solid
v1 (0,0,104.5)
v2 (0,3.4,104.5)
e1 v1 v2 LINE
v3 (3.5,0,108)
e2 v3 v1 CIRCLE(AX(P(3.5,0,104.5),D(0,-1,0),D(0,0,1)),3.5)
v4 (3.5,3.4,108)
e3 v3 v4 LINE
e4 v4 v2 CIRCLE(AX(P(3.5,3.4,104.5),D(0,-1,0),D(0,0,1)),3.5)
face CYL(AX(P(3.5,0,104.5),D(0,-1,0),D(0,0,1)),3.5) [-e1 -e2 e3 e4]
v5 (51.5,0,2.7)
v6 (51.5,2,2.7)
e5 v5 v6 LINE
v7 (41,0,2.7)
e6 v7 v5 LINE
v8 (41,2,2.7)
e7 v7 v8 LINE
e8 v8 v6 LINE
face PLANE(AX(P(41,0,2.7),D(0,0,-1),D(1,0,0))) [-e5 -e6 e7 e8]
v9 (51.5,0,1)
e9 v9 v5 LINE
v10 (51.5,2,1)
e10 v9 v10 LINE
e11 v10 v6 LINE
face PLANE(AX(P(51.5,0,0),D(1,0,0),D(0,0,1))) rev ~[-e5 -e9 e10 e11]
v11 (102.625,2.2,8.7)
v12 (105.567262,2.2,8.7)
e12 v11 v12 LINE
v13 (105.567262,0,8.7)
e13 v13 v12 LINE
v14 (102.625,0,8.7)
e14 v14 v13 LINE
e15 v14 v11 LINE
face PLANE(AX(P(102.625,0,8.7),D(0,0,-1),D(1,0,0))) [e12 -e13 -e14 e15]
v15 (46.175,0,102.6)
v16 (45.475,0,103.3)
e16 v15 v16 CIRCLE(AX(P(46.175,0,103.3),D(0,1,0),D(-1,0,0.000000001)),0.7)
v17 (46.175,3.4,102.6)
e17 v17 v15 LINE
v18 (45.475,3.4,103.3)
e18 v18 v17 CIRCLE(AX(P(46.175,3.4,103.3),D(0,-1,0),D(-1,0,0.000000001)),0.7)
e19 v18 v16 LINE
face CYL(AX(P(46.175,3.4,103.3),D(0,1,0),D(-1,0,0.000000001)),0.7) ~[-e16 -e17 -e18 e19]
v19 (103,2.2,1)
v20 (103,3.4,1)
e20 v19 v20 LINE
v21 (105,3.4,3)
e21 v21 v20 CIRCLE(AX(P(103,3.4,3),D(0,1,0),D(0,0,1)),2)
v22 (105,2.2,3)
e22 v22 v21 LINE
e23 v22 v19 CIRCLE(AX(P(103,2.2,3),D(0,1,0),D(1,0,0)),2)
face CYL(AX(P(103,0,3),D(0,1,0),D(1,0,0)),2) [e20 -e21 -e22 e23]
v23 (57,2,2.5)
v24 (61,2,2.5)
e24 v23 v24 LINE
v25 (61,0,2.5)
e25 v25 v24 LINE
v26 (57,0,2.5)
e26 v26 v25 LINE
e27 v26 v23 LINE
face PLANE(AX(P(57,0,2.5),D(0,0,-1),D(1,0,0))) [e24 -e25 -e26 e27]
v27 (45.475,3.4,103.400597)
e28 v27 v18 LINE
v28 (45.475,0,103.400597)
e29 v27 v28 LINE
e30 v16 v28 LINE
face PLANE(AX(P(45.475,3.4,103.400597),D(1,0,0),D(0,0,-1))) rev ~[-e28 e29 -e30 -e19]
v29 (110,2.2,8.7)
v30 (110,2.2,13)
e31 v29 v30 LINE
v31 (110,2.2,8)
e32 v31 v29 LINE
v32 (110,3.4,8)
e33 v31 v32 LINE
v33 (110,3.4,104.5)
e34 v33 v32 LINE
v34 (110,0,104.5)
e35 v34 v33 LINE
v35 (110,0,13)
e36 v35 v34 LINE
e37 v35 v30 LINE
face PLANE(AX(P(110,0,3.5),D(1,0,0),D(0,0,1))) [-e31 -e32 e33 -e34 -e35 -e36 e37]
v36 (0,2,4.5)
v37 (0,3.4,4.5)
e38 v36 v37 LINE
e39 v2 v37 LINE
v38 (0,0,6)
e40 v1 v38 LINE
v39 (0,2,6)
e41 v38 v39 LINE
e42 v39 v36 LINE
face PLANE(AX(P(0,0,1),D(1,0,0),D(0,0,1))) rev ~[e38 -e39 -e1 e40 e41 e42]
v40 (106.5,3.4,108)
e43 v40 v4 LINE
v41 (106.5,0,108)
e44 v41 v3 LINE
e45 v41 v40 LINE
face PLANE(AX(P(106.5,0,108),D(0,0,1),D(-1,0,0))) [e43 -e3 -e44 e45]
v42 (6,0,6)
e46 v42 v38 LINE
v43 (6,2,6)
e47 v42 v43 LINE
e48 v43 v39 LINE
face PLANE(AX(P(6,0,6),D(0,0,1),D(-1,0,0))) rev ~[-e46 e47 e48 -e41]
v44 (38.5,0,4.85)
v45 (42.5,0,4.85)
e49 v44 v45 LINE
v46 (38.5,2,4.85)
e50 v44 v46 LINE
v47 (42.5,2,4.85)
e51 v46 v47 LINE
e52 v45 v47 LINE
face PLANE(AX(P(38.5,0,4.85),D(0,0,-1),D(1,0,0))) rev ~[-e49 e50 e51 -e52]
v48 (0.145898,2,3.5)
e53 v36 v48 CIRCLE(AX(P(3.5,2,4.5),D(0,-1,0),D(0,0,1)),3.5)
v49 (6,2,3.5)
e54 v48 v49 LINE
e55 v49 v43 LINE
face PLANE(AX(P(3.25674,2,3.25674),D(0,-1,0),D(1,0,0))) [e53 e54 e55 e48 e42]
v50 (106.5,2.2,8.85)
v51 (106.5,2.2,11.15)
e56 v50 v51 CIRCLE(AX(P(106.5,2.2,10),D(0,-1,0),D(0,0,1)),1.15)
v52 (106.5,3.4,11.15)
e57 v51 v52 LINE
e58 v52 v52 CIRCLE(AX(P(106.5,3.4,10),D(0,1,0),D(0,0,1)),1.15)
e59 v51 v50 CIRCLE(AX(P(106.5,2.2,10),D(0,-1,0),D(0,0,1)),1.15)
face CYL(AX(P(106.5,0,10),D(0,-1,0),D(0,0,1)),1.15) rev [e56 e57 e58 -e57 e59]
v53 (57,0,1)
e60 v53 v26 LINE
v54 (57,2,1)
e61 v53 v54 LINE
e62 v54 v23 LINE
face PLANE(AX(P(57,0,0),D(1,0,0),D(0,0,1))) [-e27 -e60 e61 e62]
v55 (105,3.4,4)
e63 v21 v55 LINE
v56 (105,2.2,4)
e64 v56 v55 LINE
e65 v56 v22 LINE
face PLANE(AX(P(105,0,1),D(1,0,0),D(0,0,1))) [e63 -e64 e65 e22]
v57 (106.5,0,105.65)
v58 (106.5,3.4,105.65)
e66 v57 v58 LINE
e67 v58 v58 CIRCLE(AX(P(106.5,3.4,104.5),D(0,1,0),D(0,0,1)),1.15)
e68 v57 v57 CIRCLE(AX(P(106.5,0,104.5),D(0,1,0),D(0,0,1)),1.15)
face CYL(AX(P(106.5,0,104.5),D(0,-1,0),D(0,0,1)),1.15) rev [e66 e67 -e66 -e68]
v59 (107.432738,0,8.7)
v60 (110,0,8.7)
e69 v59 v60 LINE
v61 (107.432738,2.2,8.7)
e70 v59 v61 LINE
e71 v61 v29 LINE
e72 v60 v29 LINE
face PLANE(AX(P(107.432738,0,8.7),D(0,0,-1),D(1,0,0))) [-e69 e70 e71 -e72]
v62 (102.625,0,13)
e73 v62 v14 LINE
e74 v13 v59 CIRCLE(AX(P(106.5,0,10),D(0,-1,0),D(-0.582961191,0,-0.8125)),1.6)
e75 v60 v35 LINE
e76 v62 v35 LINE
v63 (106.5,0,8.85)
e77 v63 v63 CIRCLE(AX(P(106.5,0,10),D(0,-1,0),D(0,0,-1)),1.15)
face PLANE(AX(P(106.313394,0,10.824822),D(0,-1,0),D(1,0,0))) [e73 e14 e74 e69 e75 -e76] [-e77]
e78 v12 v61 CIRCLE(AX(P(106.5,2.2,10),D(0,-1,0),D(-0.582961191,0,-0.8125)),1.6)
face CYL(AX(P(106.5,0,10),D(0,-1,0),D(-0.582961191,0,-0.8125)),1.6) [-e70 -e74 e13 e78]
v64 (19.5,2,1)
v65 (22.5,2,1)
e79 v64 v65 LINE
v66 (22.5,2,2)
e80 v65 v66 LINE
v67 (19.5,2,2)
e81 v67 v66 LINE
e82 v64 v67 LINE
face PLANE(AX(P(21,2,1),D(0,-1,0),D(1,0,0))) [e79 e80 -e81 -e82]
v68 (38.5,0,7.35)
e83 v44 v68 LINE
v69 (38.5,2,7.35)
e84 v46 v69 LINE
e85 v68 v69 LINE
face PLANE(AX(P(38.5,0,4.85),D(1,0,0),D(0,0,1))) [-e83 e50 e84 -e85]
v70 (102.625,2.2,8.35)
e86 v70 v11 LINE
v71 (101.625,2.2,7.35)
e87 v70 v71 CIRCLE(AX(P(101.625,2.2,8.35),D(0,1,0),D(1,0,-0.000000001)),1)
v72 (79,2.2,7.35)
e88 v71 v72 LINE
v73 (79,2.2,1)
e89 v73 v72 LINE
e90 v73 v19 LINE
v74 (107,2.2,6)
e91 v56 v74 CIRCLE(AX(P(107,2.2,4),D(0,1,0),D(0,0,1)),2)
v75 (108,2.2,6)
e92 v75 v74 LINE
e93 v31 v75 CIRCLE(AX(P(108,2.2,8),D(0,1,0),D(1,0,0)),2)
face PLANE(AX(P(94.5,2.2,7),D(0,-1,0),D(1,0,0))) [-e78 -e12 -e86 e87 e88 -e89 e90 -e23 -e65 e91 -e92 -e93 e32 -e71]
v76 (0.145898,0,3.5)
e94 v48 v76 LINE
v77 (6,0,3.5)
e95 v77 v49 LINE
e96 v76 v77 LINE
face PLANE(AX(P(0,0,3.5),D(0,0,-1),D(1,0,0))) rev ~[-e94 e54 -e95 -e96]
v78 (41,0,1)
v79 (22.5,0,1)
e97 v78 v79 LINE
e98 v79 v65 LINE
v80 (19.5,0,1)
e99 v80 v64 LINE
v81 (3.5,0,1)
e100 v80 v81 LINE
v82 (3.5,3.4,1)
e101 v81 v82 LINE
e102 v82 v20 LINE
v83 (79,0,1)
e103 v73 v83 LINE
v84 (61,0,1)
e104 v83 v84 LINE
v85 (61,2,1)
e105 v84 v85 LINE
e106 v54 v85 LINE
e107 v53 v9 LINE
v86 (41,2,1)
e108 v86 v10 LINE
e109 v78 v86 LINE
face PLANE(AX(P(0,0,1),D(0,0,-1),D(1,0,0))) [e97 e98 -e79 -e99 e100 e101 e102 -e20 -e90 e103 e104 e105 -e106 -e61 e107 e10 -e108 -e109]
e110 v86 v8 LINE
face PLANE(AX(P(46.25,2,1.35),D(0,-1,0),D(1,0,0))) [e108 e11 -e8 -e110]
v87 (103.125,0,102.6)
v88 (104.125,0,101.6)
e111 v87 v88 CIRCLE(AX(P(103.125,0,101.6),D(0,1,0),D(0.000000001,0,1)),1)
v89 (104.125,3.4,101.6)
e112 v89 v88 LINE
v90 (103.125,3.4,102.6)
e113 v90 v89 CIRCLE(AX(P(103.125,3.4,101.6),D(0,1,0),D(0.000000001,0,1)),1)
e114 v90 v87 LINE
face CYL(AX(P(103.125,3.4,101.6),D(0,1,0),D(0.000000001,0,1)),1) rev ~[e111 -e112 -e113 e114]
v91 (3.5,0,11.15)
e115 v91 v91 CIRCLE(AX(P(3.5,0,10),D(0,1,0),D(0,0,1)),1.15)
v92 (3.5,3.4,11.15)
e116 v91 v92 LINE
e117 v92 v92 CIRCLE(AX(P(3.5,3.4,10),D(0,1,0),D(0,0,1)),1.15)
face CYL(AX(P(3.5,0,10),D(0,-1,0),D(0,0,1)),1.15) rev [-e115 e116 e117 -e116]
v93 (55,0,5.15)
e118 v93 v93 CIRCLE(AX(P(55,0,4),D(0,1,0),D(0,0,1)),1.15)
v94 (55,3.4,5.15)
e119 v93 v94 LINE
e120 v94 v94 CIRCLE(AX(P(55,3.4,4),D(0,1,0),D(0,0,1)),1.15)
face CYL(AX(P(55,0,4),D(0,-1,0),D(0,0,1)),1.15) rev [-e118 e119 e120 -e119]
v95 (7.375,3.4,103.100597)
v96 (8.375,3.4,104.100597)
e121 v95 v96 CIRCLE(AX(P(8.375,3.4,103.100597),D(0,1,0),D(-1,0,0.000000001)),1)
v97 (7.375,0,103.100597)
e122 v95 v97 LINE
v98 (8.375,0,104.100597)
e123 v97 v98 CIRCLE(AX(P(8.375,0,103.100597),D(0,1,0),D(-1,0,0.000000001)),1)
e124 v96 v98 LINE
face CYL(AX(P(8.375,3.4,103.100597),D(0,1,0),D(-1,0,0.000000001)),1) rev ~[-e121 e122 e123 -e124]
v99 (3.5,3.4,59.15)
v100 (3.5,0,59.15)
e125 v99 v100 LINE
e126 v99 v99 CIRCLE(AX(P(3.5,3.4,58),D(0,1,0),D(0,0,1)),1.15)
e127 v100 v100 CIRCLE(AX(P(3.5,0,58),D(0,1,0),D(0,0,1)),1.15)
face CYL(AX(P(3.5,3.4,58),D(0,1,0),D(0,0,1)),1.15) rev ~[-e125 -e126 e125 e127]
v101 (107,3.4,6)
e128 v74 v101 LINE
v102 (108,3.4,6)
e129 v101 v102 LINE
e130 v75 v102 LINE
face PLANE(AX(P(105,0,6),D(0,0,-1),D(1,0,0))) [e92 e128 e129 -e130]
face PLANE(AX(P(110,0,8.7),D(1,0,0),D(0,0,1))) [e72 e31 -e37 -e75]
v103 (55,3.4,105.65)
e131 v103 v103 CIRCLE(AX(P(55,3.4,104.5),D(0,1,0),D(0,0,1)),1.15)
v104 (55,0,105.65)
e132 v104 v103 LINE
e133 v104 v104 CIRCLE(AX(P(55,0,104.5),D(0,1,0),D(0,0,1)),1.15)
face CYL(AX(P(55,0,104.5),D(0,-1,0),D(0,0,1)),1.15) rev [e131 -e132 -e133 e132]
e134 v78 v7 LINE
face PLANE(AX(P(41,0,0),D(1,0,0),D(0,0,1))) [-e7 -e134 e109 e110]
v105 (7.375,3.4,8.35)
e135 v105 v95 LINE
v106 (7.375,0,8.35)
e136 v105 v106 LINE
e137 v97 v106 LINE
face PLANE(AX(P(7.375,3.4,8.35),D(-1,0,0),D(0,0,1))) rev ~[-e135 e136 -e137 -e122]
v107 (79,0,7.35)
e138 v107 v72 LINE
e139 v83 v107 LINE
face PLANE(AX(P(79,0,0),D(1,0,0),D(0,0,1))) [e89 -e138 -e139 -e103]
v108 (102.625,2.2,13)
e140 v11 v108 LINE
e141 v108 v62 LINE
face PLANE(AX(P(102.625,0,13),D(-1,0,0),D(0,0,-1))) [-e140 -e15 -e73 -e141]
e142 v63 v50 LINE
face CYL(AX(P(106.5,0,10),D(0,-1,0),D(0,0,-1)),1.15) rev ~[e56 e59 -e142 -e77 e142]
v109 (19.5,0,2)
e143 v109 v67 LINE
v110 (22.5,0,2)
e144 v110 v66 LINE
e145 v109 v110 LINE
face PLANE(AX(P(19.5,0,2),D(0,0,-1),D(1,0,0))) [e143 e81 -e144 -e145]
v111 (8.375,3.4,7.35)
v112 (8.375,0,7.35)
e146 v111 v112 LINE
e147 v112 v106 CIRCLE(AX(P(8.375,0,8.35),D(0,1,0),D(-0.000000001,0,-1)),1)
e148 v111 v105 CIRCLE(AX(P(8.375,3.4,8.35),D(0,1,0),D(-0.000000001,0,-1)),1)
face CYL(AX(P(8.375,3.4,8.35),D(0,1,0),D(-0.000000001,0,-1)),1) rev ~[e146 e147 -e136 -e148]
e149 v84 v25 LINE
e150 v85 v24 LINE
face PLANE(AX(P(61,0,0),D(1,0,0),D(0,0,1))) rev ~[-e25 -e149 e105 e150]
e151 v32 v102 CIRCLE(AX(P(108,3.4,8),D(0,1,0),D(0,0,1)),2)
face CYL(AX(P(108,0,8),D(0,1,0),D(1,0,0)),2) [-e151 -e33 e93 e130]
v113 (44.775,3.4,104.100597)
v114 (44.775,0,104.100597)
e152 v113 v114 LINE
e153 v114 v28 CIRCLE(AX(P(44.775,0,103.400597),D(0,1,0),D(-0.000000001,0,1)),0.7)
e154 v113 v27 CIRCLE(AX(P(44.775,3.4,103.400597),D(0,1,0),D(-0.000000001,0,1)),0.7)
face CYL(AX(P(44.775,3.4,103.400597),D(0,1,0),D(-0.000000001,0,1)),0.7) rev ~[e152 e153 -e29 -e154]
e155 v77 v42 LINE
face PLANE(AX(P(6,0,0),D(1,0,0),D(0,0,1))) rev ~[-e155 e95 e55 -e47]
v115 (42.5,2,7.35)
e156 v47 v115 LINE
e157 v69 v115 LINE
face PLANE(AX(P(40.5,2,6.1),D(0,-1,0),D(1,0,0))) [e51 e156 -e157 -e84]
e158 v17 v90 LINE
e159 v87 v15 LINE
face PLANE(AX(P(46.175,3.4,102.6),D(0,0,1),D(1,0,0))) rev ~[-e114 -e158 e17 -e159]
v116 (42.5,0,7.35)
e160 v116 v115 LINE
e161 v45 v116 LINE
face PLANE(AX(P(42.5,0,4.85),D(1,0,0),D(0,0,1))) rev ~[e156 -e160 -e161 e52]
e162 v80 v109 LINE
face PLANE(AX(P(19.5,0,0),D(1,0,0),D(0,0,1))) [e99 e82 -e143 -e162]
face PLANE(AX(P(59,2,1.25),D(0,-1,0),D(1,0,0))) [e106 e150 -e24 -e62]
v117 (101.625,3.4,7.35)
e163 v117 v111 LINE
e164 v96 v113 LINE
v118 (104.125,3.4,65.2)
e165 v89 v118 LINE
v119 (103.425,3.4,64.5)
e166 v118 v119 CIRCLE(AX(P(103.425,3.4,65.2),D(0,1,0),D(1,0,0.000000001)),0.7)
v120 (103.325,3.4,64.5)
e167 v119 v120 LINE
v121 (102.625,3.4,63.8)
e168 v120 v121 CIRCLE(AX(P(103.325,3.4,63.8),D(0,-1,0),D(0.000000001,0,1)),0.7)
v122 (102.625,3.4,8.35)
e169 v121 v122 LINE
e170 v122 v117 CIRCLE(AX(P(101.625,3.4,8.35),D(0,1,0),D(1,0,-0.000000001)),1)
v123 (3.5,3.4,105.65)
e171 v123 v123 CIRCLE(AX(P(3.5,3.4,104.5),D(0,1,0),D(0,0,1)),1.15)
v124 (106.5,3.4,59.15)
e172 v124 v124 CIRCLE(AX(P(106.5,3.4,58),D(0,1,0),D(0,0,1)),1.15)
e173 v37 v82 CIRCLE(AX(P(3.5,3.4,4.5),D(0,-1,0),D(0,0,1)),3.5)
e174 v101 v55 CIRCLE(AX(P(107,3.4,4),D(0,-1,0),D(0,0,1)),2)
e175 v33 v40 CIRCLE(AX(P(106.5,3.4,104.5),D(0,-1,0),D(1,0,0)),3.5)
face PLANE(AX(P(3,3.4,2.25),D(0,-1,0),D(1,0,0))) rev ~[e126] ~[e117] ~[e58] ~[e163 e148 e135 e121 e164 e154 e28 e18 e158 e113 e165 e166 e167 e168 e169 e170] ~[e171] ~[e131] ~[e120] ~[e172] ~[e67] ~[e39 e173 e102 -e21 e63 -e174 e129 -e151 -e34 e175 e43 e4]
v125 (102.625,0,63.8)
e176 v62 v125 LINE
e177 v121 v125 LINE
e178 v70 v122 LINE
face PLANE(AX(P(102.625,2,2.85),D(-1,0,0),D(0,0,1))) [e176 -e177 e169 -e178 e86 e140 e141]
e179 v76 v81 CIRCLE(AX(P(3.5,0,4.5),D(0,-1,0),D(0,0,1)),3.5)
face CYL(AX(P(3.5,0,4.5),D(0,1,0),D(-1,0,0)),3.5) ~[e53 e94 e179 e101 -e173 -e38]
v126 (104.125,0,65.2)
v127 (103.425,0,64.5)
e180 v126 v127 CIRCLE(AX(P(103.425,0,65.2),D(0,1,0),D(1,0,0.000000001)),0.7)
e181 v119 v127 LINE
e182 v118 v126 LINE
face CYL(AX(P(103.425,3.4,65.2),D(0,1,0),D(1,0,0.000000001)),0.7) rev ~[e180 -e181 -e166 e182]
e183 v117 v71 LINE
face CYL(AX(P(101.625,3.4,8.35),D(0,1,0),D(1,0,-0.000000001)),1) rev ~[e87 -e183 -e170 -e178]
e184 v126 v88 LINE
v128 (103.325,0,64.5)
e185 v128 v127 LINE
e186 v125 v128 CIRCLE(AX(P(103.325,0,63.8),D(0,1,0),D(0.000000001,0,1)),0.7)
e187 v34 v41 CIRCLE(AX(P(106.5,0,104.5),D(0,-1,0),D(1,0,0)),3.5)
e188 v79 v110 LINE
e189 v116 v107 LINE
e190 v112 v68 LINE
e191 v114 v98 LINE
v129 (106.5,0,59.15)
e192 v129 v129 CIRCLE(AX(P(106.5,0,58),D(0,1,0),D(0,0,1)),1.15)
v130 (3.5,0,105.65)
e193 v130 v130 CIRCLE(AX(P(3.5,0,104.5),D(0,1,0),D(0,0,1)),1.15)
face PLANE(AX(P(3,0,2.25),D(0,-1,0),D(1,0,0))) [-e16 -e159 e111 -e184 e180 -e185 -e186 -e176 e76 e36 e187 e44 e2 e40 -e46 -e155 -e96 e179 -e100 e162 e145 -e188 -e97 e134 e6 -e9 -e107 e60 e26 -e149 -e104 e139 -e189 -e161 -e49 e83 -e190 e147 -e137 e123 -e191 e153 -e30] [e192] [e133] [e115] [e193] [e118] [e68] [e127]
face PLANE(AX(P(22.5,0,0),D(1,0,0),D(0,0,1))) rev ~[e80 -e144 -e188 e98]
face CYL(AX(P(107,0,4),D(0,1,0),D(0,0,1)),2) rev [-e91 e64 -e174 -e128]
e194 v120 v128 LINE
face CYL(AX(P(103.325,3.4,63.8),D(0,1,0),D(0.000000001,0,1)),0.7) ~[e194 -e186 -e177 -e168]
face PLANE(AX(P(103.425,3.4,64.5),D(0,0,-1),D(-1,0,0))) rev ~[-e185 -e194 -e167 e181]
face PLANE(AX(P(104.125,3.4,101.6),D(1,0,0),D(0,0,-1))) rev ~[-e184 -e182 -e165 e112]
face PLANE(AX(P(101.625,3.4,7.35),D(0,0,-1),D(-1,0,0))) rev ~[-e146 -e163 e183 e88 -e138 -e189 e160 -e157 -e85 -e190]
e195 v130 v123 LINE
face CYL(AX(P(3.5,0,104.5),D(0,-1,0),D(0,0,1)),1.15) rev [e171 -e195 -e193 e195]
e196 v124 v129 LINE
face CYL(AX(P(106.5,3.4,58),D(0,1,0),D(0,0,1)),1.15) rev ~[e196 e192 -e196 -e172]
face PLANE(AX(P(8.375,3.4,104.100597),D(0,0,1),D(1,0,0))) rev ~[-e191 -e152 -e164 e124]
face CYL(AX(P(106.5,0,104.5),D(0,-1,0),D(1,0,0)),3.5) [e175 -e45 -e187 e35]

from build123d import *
from build123d.topology import SkipClean

# Parameters (mm, degrees)
SKETCH_2_R           = 1.15
EXTRUDE_1_DEPTH      = 3.4
CUT_EXTRUDE_4_DEPTH  = 155.193255365
SKETCH_5_W           = 10.5
SKETCH_5_H           = 2.7
SKETCH_5_W_2         = 4
SKETCH_5_H_2         = 2.5
SKETCH_5_W_3         = 3
SKETCH_5_H_3         = 2
CUT_EXTRUDE_8_DEPTH  = 2
SKETCH_6_W           = 1
SKETCH_6_H           = 1
CUT_EXTRUDE_9_DEPTH  = 2
SKETCH_7_W           = 0.375
SKETCH_7_H           = 4.5
EXTRUDE_2_DEPTH      = 2
SKETCH_8_W           = 110
SKETCH_8_H           = 3.4
CUT_EXTRUDE_10_DEPTH = 1
SKETCH_9_W           = 6
SKETCH_9_H           = 2.5
SKETCH_9_W_2         = 6.621572964
EXTRUDE_3_DEPTH      = 3.4
FILLET_1_R           = 3.5
SKETCH_10_W          = 5
SKETCH_10_H          = 5
CUT_EXTRUDE_11_DEPTH = 155.193255365
FILLET_4_R           = 2
FILLET_5_R           = 2
SKETCH_11_R          = 1.15
CUT_EXTRUDE_12_DEPTH = 11
SKETCH_12_W          = 23.625
SKETCH_12_H          = 7.35
CUT_EXTRUDE_14_DEPTH = 2
SKETCH_14_W          = 31
SKETCH_14_H          = 12
CUT_EXTRUDE_15_DEPTH = 2.2
EXTRUDE_START        = 2.2
SKETCH_15_R          = 1.15
EXTRUDE_8_DEPTH      = 2.2


with BuildPart() as part:
    # 스케치2 → 보스-돌출1 (new body)
    with BuildSketch(Plane(origin=(0, 0, 0), x_dir=(1, 0, 0), z_dir=(0, 1, 0))):
        with BuildLine():
            Line((3.5, 0), (106.5, 0))
            ThreePointArc((106.5, 0), (108.974873734, -1.025126266), (110, -3.5))
            Line((110, -3.5), (110, -104.5))
            ThreePointArc((110, -104.5), (108.974873734, -106.974873734), (106.5, -108))
            Line((106.5, -108), (3.5, -108))
            ThreePointArc((3.5, -108), (1.025126266, -106.974873734), (0, -104.5))
            Line((0, -104.5), (0, -3.5))
            ThreePointArc((0, -3.5), (1.025126266, -1.025126266), (3.5, 0))
        make_face()
        with Locations(Location((3.5, -104.5, 0), (0, 0, 270))):
            Circle(SKETCH_2_R, mode=Mode.SUBTRACT)
        with Locations(Location((106.5, -10, 0), (0, 0, 270))):
            Circle(SKETCH_2_R, mode=Mode.SUBTRACT)
        with Locations(Location((106.5, -104.5, 0), (0, 0, 270))):
            Circle(SKETCH_2_R, mode=Mode.SUBTRACT)
        with Locations(Location((55, -104.5, 0), (0, 0, 270))):
            Circle(SKETCH_2_R, mode=Mode.SUBTRACT)
        with Locations(Location((3.5, -10, 0), (0, 0, 270))):
            Circle(SKETCH_2_R, mode=Mode.SUBTRACT)
        with Locations(Location((55, -4, 0), (0, 0, 270))):
            Circle(SKETCH_2_R, mode=Mode.SUBTRACT)
    extrude(amount=EXTRUDE_1_DEPTH)

    # 스케치3 → 컷-돌출4 (cut, through all)
    with BuildSketch(Plane(origin=(0, 3.4, 0), x_dir=(1, 0, 0), z_dir=(0, 1, 0))):
        with BuildLine():
            Line((7.375, -8.35), (7.375, -103.100597342))
            ThreePointArc((7.375, -103.100597342), (7.667893219, -103.807704123), (8.375, -104.100597342))
            Line((8.375, -104.100597342), (44.775, -104.100597342))
            ThreePointArc((44.775, -104.100597342), (45.269974747, -103.895572089), (45.475, -103.400597342))
            Line((45.475, -103.400597342), (45.475, -103.3))
            ThreePointArc((45.475, -103.3), (45.680025253, -102.805025253), (46.175, -102.6))
            Line((46.175, -102.6), (102.625, -102.6))
            Line((102.625, -102.6), (103.125, -102.6))
            ThreePointArc((103.125, -102.6), (103.832106781, -102.307106781), (104.125, -101.6))
            Line((104.125, -101.6), (104.125, -65.2))
            ThreePointArc((104.125, -65.2), (103.919974747, -64.705025253), (103.425, -64.5))
            Line((103.425, -64.5), (103.325, -64.5))
            ThreePointArc((103.325, -64.5), (102.830025253, -64.294974747), (102.625, -63.8))
            Line((102.625, -63.8), (102.625, -8.35))
            ThreePointArc((102.625, -8.35), (102.332106781, -7.642893219), (101.625, -7.35))
            Line((101.625, -7.35), (8.375, -7.35))
            ThreePointArc((8.375, -7.35), (7.667893219, -7.642893219), (7.375, -8.35))
        make_face()
    extrude(amount=-CUT_EXTRUDE_4_DEPTH, mode=Mode.SUBTRACT)

    # 스케치5 → 컷-돌출8 (cut)
    with BuildSketch(Plane.XZ):
        Polygon((101.625, 7.35), (97, 7.35), (97, 2.85), (103, 2.85), (103, 7.35), (102.625, 7.35), align=None)
        with BuildLine():
            Line((97, 8.636748981), (97, 7.35))
            Line((97, 7.35), (101.625, 7.35))
            ThreePointArc((101.625, 7.35), (102.332106781, 7.642893219), (102.625, 8.35))
            Line((102.625, 8.35), (102.625, 8.636748981))
            Line((102.625, 8.636748981), (97, 8.636748981))
        make_face()
        with BuildLine():
            ThreePointArc((0, 3.5), (1.025126266, 1.025126266), (3.5, 0))
            Line((3.5, 0), (6, 0))
            Line((6, 0), (6, 6))
            Line((6, 6), (0, 6))
            Line((0, 6), (0, 3.5))
        make_face()
        with Locations((46.25, 1.35)):
            Rectangle(SKETCH_5_W, SKETCH_5_H)
        with Locations((40.5, 6.1)):
            Rectangle(SKETCH_5_W_2, SKETCH_5_H_2)
        with Locations((21, 1)):
            Rectangle(SKETCH_5_W_3, SKETCH_5_H_3)
        with Locations((59, 1.25)):
            Rectangle(SKETCH_5_W_2, SKETCH_5_H_2)
        with Locations((80.5, 1)):
            Rectangle(SKETCH_5_W_3, SKETCH_5_H_3)
    extrude(amount=-CUT_EXTRUDE_8_DEPTH, mode=Mode.SUBTRACT)

    # 스케치6 → 컷-돌출9 (cut)
    with BuildSketch(Plane.XZ):
        with Locations((102.125, 7.85)):
            Rectangle(SKETCH_6_W, SKETCH_6_H)
    extrude(amount=-CUT_EXTRUDE_9_DEPTH, mode=Mode.SUBTRACT)

    # 스케치7 → 보스-돌출2 (add)
    with BuildSketch(Plane.XZ.offset(-2)):
        with Locations((102.8125, 5.1)):
            Rectangle(SKETCH_7_W, SKETCH_7_H)
    extrude(amount=EXTRUDE_2_DEPTH)

    # 스케치8 → 컷-돌출10 (cut)
    with BuildSketch(Plane(origin=(0, 0, 0), x_dir=(-1, 0, 0), z_dir=(0, 0, -1))):
        with Locations((-55, 1.7)):
            Rectangle(SKETCH_8_W, SKETCH_8_H)
    extrude(amount=-CUT_EXTRUDE_10_DEPTH, mode=Mode.SUBTRACT)

    # 스케치9 → 보스-돌출3 (add, through all)
    with BuildSketch(Plane.XZ):
        with Locations((3, 2.25)):
            Rectangle(SKETCH_9_W, SKETCH_9_H)
        with Locations((106.689213518, 2.25)):
            Rectangle(SKETCH_9_W_2, SKETCH_9_H)
    extrude(amount=-EXTRUDE_3_DEPTH)

    # 필렛1
    fillet_1_edges = [part.edges().sort_by_distance(p)[0] for p in [
        (0, 1.7, 1),
        (110, 1.7, 1),
    ]]
    fillet(fillet_1_edges, radius=FILLET_1_R)

    # 스케치10 → 컷-돌출11 (cut, through all)
    with BuildSketch(Plane.XZ):
        with Locations((107.5, 3.5)):
            Rectangle(SKETCH_10_W, SKETCH_10_H)
    extrude(amount=-CUT_EXTRUDE_11_DEPTH, mode=Mode.SUBTRACT)

    # 필렛4
    fillet_4_edges = [part.edges().sort_by_distance(p)[0] for p in [
        (110, 1.7, 6),
        (105, 1.7, 1),
    ]]
    fillet(fillet_4_edges, radius=FILLET_4_R)

    # 필렛5
    fillet_5_edges = [part.edges().sort_by_distance(p)[0] for p in [
        (105, 1.7, 6),
    ]]
    fillet(fillet_5_edges, radius=FILLET_5_R)

    # 스케치11 → 컷-돌출12 (cut)
    with BuildSketch(Plane(origin=(0, 3.4, 0), x_dir=(1, 0, 0), z_dir=(0, 1, 0))):
        with Locations(Location((3.5, -58, 0), (0, 0, 270))):
            Circle(SKETCH_11_R)
        with Locations(Location((106.5, -58, 0), (0, 0, 270))):
            Circle(SKETCH_11_R)
    extrude(amount=-CUT_EXTRUDE_12_DEPTH, mode=Mode.SUBTRACT)

    # 스케치12 → 컷-돌출14 (cut)
    with BuildSketch(Plane.XZ):
        with Locations((90.8125, 4.675)):
            Rectangle(SKETCH_12_W, SKETCH_12_H)
    extrude(amount=-CUT_EXTRUDE_14_DEPTH, mode=Mode.SUBTRACT)

    # 스케치14 → 컷-돌출15 (cut)
    with BuildSketch(Plane.XZ):
        with Locations((94.5, 7)):
            Rectangle(SKETCH_14_W, SKETCH_14_H)
    extrude(amount=-CUT_EXTRUDE_15_DEPTH, mode=Mode.SUBTRACT)

    # 스케치15 → 보스-돌출8 (add)
    with SkipClean():  # the faces are left unmerged after this step: merging them gives an invalid solid
        with BuildSketch(Plane.XZ.offset(-2.2).offset(EXTRUDE_START)):
            with BuildLine():
                Line((110, 13), (102.625, 13))
                Line((102.625, 13), (102.625, 8.7))
                Line((102.625, 8.7), (105.567262095, 8.7))
                ThreePointArc((105.567262095, 8.7), (106.5, 8.4), (107.432737905, 8.7))
                Line((107.432737905, 8.7), (110, 8.7))
                Line((110, 8.7), (110, 13))
            make_face()
            with Locations(Location((106.5, 10, 0), (0, 0, 270))):
                Circle(SKETCH_15_R, mode=Mode.SUBTRACT)
        extrude(amount=-EXTRUDE_8_DEPTH)


solid = part.part
